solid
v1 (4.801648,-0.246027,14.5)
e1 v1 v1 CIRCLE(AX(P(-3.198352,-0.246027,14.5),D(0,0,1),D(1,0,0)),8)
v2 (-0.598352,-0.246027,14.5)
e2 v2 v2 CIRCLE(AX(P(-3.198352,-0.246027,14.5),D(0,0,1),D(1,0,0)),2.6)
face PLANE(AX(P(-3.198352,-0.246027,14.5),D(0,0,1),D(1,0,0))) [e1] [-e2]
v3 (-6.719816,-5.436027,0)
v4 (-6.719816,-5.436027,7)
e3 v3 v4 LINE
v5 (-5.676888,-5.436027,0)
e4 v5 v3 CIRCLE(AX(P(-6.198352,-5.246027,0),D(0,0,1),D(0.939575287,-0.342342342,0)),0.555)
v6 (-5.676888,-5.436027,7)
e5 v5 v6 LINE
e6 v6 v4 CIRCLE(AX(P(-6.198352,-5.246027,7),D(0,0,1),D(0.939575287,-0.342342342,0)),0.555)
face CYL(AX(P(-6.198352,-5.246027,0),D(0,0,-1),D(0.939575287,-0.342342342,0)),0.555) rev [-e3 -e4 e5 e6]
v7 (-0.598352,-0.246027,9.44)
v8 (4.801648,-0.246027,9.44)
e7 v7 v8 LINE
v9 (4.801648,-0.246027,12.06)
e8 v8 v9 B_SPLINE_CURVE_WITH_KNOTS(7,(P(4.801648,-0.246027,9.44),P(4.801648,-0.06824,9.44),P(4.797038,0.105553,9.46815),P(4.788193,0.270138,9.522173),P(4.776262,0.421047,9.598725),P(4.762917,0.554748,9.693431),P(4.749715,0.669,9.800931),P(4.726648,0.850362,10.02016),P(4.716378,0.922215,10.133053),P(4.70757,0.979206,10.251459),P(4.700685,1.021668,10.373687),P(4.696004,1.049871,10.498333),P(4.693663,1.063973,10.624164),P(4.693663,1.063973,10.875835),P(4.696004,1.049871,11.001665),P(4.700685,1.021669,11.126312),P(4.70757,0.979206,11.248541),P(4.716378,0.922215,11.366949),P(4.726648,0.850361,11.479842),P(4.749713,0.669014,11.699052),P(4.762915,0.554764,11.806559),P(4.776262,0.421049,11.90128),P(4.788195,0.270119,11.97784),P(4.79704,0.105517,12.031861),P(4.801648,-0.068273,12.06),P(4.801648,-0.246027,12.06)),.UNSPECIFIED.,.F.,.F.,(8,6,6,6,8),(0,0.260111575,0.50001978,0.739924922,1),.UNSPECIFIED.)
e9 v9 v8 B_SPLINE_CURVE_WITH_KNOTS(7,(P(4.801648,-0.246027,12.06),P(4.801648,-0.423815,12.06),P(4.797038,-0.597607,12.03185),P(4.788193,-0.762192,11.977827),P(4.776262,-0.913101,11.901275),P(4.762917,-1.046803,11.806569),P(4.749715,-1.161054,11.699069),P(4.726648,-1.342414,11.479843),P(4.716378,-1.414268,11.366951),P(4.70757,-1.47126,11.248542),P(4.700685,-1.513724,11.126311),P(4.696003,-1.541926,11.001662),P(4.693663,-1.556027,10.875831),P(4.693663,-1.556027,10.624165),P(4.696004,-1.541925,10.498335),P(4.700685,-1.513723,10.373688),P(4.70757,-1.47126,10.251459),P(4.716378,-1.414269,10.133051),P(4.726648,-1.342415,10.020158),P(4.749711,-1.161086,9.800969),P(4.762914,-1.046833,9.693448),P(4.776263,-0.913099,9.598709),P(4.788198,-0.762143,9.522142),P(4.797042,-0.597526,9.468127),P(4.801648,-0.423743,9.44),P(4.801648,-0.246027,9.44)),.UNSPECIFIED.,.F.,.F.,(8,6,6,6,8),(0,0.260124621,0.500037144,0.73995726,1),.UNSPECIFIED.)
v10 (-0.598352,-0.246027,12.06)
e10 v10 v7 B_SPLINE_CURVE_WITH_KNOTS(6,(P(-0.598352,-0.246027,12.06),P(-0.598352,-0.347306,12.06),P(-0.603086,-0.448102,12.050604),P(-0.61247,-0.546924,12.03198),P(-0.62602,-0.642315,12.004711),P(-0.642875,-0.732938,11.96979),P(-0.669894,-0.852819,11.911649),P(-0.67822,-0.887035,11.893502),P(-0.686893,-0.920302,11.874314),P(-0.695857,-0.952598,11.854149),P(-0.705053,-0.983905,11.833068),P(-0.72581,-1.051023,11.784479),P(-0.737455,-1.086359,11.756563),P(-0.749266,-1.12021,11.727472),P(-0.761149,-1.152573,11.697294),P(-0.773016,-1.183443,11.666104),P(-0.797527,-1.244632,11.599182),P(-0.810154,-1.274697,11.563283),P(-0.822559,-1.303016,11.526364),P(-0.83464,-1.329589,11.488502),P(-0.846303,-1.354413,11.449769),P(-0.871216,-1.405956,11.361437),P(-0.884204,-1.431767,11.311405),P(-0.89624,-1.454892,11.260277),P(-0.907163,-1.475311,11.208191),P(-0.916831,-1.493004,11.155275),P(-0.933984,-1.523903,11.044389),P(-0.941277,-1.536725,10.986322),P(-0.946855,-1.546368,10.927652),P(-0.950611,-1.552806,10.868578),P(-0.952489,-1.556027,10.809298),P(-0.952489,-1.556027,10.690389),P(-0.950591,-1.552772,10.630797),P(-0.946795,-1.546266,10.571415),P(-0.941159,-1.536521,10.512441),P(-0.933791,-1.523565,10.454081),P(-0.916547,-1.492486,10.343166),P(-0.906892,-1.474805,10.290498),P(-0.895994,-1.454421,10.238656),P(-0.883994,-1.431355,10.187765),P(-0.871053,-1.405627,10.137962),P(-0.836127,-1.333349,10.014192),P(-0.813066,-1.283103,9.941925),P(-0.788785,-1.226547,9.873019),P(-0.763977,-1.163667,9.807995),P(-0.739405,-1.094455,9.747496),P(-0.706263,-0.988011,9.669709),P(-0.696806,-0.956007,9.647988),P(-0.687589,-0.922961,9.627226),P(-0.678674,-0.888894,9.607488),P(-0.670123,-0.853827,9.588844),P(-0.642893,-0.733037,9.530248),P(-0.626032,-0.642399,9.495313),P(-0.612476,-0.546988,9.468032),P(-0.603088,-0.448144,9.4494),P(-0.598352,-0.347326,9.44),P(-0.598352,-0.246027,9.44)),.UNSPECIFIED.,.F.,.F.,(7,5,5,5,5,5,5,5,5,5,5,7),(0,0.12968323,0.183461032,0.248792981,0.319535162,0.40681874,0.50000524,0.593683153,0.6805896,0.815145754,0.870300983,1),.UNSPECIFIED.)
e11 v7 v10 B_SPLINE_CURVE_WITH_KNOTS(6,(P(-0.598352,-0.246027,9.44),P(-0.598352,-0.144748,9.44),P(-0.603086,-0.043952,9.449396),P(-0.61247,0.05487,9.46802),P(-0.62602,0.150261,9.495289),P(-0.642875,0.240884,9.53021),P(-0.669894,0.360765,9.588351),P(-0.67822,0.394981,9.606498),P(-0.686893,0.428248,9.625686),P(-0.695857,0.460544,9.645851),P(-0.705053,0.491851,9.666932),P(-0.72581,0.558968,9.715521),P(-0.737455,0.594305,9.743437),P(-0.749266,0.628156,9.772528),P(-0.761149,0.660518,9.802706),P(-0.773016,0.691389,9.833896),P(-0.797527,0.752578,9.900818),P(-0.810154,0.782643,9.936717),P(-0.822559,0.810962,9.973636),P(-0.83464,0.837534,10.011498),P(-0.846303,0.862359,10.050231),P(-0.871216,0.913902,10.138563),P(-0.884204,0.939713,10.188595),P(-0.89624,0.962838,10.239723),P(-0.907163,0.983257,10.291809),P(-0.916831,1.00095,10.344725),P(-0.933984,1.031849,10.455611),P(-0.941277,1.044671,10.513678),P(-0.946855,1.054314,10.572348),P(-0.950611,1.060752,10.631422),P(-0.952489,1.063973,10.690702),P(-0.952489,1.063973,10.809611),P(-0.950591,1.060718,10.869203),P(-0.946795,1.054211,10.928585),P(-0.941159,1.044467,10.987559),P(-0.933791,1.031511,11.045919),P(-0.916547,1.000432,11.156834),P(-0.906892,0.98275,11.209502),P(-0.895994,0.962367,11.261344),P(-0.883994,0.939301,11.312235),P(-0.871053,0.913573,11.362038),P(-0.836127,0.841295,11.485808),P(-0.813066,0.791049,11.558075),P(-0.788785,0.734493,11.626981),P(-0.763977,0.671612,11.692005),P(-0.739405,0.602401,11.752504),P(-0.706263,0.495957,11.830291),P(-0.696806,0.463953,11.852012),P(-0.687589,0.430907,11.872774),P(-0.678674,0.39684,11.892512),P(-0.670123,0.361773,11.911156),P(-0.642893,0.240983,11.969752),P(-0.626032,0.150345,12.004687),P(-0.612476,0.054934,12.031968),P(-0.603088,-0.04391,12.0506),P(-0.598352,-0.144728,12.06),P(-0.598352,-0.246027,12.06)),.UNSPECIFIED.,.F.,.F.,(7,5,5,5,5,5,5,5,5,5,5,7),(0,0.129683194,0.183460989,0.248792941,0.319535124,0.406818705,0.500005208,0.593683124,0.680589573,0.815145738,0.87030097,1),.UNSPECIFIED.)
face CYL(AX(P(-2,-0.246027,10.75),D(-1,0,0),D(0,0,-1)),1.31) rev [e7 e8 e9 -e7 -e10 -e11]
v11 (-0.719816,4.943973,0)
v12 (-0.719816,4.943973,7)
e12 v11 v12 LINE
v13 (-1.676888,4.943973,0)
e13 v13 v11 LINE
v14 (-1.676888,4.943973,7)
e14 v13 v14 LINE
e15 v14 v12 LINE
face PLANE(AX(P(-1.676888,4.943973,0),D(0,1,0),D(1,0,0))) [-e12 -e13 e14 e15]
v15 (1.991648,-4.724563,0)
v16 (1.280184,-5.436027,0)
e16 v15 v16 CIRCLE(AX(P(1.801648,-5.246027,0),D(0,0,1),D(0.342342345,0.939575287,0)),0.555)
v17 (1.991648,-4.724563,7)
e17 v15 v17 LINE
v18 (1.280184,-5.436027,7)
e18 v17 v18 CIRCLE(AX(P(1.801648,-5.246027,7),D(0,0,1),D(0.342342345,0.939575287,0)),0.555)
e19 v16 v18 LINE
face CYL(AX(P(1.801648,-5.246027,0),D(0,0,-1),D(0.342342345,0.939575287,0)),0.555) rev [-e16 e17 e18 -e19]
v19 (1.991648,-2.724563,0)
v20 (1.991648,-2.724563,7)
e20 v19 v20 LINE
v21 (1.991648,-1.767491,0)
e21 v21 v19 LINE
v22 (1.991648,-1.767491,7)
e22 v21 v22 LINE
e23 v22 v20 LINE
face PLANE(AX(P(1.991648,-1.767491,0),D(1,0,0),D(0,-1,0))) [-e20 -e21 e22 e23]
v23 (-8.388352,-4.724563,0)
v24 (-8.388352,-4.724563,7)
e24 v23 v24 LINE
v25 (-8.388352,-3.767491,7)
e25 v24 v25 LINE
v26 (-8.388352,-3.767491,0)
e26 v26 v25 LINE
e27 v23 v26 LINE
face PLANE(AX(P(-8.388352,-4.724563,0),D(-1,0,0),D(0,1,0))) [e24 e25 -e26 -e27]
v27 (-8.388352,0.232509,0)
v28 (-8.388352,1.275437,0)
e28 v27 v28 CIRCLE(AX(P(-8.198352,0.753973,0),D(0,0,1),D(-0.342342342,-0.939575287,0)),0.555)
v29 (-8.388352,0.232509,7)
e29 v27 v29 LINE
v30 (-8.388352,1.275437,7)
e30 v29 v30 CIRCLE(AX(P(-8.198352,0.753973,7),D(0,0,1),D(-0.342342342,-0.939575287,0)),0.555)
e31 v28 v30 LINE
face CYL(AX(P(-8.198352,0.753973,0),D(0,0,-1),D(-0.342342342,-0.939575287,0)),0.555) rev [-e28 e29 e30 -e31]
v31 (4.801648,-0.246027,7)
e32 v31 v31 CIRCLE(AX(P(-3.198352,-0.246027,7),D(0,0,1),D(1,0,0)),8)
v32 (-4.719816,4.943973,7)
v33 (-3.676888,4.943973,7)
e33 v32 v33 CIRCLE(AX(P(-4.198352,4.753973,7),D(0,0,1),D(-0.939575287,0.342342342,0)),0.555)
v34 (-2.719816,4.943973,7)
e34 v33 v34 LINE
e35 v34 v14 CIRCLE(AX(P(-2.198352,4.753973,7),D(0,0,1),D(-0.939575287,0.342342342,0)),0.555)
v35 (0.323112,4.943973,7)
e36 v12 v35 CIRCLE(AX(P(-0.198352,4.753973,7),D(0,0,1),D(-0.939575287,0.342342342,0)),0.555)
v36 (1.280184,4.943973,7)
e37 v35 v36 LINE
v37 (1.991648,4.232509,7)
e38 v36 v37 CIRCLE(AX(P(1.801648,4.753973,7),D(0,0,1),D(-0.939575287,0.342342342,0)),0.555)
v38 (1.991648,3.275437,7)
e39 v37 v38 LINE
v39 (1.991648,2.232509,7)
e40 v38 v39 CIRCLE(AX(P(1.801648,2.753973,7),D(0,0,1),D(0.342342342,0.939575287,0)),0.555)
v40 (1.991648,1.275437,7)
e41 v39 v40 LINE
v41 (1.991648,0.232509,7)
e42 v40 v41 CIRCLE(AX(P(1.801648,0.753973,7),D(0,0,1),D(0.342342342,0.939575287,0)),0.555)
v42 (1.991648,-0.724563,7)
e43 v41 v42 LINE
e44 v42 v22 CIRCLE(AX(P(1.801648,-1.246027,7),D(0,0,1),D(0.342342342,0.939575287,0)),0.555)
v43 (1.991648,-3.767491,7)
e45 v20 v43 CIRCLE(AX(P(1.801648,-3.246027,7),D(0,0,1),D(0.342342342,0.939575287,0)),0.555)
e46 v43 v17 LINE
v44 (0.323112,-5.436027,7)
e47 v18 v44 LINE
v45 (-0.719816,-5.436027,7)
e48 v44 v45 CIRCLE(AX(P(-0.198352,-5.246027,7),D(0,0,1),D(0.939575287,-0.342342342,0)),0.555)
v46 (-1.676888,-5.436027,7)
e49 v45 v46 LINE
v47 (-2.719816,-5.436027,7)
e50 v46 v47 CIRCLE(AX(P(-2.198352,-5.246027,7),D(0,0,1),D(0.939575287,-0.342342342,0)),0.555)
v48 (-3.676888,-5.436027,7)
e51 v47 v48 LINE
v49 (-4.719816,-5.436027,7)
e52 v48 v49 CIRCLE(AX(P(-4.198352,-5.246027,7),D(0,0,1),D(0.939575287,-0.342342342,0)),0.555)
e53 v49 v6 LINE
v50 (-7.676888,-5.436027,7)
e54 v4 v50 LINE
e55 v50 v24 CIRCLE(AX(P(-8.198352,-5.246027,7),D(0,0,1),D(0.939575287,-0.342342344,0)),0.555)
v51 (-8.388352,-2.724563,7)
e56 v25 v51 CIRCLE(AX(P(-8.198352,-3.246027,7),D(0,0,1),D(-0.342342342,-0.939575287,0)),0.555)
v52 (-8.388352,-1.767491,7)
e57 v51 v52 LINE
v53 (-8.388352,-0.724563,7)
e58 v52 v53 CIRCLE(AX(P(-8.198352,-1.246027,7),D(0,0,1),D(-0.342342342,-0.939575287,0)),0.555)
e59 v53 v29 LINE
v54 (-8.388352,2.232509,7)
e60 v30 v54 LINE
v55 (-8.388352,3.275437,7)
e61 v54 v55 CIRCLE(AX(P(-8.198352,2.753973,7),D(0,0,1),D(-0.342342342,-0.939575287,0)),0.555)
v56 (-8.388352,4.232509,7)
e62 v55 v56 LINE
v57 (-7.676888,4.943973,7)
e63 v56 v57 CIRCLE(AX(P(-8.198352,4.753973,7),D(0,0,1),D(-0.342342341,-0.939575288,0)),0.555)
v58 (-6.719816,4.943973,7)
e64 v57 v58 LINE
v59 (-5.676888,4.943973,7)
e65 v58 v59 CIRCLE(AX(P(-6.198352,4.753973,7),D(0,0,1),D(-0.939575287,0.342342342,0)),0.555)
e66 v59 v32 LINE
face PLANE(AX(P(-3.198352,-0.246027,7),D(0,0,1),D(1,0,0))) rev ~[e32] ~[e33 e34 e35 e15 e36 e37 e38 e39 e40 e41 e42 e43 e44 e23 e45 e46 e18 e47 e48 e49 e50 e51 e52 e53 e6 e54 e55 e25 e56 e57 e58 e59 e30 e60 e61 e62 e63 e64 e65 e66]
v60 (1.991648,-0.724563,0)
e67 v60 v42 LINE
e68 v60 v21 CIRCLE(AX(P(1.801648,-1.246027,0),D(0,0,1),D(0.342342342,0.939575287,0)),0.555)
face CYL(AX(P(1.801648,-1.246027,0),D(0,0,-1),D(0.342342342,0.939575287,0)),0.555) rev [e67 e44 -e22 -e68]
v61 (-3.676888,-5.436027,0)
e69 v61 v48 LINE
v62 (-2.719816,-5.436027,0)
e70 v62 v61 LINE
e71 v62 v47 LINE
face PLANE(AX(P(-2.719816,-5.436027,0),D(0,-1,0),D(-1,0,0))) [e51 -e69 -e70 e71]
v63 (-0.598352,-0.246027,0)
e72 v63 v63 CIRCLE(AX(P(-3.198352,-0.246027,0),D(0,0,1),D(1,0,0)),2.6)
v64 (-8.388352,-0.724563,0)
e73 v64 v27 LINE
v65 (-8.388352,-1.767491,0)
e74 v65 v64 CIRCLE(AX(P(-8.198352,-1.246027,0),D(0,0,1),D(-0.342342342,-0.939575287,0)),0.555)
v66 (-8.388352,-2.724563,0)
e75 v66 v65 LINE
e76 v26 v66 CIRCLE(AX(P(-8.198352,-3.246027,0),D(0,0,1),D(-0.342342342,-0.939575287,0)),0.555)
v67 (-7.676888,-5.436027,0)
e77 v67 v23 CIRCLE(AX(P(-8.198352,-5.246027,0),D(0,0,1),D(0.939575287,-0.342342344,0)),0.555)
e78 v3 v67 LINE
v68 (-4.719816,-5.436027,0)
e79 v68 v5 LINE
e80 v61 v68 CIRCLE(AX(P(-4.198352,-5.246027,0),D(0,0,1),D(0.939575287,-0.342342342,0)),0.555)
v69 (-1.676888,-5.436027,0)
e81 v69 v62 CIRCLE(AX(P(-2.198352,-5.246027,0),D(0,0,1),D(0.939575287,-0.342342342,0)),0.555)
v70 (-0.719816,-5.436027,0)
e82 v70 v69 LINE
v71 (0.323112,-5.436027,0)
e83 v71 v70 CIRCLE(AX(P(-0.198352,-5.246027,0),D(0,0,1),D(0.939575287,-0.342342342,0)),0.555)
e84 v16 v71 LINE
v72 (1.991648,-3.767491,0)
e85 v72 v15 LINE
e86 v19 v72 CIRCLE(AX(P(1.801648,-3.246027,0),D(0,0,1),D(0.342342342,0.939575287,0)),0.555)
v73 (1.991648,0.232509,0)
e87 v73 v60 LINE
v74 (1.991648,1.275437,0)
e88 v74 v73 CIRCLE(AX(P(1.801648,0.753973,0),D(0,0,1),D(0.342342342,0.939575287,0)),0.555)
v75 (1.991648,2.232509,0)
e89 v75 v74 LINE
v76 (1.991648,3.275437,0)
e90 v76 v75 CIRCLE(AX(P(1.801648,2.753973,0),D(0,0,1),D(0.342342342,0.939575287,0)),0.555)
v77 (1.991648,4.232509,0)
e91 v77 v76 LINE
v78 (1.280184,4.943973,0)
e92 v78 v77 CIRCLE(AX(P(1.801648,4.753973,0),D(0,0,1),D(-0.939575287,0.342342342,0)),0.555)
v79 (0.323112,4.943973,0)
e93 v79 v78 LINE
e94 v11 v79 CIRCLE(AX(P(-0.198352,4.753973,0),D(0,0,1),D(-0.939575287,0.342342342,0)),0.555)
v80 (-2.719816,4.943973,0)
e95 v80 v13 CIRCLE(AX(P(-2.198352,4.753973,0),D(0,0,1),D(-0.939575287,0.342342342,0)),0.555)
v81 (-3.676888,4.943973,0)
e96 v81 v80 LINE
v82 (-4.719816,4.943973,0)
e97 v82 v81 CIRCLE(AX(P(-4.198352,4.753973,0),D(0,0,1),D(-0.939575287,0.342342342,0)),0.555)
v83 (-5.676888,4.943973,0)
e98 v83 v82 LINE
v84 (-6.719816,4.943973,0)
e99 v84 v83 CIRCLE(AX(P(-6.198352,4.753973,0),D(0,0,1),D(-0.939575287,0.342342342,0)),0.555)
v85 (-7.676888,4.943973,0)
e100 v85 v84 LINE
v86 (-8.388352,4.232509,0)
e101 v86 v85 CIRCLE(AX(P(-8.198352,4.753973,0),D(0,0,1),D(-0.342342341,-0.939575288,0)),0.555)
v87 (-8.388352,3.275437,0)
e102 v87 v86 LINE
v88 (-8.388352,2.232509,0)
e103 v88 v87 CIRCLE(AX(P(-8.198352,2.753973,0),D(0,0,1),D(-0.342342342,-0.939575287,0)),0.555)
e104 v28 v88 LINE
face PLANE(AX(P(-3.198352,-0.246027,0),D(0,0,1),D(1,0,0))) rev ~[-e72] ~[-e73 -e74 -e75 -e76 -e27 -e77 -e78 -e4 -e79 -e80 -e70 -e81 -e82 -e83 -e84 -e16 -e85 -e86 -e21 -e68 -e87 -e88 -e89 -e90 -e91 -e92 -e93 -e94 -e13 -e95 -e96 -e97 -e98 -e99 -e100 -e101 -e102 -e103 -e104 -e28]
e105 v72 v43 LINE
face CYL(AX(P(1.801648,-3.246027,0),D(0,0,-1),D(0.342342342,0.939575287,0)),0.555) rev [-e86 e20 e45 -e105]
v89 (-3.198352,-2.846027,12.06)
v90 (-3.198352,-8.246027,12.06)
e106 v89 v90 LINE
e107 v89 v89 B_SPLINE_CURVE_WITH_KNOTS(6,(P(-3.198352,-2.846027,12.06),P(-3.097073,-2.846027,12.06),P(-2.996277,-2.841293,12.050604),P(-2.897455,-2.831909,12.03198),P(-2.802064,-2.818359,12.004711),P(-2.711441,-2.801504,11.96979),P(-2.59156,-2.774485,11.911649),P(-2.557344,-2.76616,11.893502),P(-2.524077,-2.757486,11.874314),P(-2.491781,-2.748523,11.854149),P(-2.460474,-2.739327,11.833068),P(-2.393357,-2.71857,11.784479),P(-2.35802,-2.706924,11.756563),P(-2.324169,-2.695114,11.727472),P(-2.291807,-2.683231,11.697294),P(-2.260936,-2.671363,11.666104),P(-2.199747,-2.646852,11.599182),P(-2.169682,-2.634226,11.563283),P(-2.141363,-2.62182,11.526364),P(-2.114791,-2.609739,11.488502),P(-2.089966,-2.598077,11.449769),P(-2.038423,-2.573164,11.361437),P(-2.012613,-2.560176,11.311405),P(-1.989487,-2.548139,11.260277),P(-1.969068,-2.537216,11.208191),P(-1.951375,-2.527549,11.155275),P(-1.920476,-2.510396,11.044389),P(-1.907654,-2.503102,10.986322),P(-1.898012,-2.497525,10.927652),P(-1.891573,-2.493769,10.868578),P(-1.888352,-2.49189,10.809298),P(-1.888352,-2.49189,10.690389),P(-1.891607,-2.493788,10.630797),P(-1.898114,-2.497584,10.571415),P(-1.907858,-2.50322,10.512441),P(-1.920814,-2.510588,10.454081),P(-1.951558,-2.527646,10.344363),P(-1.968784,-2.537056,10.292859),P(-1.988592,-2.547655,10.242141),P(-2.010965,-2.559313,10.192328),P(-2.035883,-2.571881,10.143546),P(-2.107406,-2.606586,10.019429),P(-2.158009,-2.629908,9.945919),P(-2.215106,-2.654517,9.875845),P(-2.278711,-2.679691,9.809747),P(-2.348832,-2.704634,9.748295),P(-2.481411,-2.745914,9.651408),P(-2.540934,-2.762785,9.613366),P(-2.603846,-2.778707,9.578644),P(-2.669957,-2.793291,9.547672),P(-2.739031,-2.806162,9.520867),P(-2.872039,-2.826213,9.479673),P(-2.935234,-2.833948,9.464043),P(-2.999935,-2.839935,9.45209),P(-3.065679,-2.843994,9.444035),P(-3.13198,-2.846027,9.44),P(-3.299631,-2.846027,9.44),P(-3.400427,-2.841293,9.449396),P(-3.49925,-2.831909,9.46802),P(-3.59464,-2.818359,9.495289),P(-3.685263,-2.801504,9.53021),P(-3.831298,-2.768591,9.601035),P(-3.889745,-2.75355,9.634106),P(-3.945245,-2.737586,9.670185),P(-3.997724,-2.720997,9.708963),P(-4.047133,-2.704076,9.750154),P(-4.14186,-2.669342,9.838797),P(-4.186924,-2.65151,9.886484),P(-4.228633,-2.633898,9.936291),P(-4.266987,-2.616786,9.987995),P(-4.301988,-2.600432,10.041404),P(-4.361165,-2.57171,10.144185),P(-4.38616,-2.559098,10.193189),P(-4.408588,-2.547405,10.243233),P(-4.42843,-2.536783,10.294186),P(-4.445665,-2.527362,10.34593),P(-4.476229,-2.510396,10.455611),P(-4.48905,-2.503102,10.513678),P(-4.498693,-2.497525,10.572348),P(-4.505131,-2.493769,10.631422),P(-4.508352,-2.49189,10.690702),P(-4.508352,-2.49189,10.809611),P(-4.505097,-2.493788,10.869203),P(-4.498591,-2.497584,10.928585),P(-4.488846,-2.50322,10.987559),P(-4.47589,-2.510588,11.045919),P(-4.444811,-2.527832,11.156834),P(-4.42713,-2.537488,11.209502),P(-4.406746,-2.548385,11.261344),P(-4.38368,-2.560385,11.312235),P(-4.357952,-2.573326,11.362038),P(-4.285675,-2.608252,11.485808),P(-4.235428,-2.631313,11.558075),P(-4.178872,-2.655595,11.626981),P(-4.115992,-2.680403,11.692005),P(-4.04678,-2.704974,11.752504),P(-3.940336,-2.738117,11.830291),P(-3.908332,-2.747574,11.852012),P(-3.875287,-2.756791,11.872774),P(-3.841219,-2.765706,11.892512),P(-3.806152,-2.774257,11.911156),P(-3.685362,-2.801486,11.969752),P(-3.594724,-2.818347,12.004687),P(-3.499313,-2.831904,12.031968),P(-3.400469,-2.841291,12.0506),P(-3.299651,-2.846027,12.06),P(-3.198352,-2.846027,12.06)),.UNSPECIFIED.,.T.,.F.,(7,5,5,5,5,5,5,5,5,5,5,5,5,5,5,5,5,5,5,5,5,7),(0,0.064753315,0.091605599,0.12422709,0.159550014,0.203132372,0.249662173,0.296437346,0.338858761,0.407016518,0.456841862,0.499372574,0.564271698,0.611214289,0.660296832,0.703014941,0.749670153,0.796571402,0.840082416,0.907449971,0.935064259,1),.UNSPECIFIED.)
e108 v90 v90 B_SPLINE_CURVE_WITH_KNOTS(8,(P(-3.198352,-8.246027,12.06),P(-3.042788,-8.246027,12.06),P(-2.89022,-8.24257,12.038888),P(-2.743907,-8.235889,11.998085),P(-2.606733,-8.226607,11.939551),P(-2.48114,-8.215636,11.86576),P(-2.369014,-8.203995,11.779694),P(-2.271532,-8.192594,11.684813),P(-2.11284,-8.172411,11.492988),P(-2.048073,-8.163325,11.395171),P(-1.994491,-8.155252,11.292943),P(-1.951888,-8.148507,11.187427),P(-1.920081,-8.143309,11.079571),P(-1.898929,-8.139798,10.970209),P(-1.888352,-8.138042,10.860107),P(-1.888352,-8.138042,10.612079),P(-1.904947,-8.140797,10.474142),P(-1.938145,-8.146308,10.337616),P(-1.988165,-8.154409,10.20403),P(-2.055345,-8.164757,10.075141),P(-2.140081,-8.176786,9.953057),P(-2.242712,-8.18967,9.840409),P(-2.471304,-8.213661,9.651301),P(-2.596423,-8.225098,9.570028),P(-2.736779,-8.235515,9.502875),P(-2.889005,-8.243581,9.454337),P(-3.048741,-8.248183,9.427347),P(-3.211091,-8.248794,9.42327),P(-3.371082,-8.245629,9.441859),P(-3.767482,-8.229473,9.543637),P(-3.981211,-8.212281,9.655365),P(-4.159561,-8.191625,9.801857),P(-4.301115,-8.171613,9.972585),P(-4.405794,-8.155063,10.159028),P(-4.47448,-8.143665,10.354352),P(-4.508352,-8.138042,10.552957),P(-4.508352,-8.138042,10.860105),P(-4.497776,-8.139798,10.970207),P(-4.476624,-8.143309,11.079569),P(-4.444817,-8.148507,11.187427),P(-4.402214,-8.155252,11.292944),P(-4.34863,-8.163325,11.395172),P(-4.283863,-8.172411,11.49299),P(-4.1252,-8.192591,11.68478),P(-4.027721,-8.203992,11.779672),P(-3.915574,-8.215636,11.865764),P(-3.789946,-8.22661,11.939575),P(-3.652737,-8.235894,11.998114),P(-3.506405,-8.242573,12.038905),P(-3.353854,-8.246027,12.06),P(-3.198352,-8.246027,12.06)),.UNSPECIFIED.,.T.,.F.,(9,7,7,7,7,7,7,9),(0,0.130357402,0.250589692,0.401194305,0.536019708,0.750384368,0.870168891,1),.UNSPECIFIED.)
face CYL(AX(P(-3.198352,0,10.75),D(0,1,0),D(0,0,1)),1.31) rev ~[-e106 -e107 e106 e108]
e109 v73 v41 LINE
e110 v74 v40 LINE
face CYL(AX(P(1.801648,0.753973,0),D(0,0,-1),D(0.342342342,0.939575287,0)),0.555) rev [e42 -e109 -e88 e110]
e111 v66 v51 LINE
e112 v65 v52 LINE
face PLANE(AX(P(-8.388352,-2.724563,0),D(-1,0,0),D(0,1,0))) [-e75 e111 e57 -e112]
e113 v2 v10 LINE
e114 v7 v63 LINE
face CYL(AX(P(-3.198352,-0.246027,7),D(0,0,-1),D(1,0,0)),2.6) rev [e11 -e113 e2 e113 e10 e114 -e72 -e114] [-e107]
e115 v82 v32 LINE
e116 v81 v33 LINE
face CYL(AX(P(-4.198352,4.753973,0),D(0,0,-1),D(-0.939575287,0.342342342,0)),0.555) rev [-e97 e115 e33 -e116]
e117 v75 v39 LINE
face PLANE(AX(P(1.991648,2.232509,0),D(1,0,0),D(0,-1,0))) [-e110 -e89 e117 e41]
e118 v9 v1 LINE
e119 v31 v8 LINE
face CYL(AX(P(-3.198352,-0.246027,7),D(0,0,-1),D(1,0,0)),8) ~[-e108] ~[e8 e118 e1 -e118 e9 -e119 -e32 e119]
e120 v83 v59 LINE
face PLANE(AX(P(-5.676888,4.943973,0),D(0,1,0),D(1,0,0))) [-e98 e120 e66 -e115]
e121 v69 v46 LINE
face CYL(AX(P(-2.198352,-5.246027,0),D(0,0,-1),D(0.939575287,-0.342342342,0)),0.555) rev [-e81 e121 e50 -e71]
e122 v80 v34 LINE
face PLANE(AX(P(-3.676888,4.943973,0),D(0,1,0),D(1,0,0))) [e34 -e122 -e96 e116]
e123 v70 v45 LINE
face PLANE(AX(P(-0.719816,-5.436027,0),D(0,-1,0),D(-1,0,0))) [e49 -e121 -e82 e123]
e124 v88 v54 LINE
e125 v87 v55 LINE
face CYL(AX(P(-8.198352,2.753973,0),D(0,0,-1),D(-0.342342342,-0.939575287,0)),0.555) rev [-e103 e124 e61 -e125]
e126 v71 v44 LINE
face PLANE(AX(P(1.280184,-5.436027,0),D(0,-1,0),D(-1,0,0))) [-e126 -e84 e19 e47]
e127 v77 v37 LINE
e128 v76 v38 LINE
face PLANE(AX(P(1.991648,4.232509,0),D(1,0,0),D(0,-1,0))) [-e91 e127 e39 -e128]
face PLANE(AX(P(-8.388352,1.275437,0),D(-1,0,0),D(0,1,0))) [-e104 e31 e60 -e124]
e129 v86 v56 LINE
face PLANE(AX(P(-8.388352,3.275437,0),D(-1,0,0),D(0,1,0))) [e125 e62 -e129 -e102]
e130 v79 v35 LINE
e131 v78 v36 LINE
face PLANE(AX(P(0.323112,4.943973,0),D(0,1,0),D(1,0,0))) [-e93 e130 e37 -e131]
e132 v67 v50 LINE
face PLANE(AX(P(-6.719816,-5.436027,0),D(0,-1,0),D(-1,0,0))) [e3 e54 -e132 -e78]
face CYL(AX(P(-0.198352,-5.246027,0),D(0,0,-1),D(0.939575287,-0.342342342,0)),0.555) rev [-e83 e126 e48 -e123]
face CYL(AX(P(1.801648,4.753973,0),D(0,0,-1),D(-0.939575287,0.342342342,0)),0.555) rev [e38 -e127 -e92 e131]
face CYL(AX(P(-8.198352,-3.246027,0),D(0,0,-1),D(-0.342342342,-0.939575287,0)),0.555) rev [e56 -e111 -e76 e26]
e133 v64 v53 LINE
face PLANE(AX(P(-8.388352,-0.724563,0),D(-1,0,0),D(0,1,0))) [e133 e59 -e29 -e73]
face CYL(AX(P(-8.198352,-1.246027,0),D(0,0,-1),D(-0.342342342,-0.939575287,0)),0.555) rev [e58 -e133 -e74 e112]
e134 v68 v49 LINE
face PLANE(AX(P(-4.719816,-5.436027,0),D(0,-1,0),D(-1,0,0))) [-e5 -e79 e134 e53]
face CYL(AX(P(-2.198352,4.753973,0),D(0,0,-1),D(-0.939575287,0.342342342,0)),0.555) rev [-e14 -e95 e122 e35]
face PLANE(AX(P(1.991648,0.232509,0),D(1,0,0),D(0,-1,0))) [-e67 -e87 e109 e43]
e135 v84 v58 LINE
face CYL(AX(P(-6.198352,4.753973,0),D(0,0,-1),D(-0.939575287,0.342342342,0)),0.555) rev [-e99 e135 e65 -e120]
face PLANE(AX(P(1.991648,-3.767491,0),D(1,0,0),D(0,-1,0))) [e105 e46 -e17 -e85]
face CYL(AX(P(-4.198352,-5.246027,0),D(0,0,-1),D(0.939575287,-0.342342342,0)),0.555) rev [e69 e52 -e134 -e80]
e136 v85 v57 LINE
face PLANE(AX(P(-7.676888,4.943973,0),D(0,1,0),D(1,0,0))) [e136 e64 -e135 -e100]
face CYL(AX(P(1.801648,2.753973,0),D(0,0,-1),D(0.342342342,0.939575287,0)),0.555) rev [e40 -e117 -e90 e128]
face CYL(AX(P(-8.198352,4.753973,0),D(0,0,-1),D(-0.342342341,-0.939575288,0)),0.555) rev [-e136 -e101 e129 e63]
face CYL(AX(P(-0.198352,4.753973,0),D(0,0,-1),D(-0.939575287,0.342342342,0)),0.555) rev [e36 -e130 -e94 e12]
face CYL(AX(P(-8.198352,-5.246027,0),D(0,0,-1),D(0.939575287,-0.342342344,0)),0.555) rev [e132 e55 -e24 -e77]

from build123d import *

# Parameters (mm, degrees)
SKETCH2_R               = 4.1
SKETCH2_R_2             = 2.6
BOSS_EXTRUDE1_DEPTH     = 7
SKETCH3_R               = 8
SKETCH3_R_2             = 2.6
BOSS_EXTRUDE2_DEPTH     = 7.5
SKETCH4_R               = 1.31
CUT_EXTRUDE1_DEPTH      = 9
CUT_EXTRUDE2_DEPTH      = 5
CUT_EXTRUDE2_DEPTH_BACK = 2
SKETCH5_R               = 1.31


with BuildPart() as part:
    # Sketch2 → Boss-Extrude1 (new body)
    # profile 1 of 2: a face of its own
    with BuildSketch(Plane.XY):
        with BuildLine():
            ThreePointArc((-8.388352144, 2.232508627), (-7.643352144, 2.753972912), (-8.388352144, 3.275437196))
            Line((-8.388352144, 3.275437196), (-8.388352144, 4.232508627))
            ThreePointArc((-8.388352144, 4.232508627), (-7.805907881, 4.361528648), (-7.67688786, 4.943972912))
            Line((-7.67688786, 4.943972912), (-6.719816429, 4.943972912))
            ThreePointArc((-6.719816429, 4.943972912), (-6.198352144, 4.198972912), (-5.67688786, 4.943972912))
            Line((-5.67688786, 4.943972912), (-4.719816429, 4.943972912))
            ThreePointArc((-4.719816429, 4.943972912), (-4.198352144, 4.198972912), (-3.67688786, 4.943972912))
            Line((-3.67688786, 4.943972912), (-2.719816429, 4.943972912))
            ThreePointArc((-2.719816429, 4.943972912), (-2.198352144, 4.198972912), (-1.67688786, 4.943972912))
            Line((-1.67688786, 4.943972912), (-0.719816429, 4.943972912))
            ThreePointArc((-0.719816429, 4.943972912), (-0.198352144, 4.198972912), (0.32311214, 4.943972912))
            Line((0.32311214, 4.943972912), (1.280183571, 4.943972912))
            ThreePointArc((1.280183571, 4.943972912), (1.409203592, 4.361528648), (1.991647856, 4.232508627))
            Line((1.991647856, 4.232508627), (1.991647856, 3.275437196))
            ThreePointArc((1.991647856, 3.275437196), (1.246647856, 2.753972912), (1.991647856, 2.232508627))
            Line((1.991647856, 2.232508627), (1.991647856, 1.275437196))
            ThreePointArc((1.991647856, 1.275437196), (1.246647856, 0.753972912), (1.991647856, 0.232508627))
            Line((1.991647856, 0.232508627), (1.991647856, -0.724562804))
            ThreePointArc((1.991647856, -0.724562804), (1.246647856, -1.246027088), (1.991647856, -1.767491373))
            Line((1.991647856, -1.767491373), (1.991647856, -2.724562804))
            ThreePointArc((1.991647856, -2.724562804), (1.246647856, -3.246027088), (1.991647856, -3.767491373))
            Line((1.991647856, -3.767491373), (1.991647856, -4.724562804))
            ThreePointArc((1.991647856, -4.724562804), (1.409203592, -4.853582824), (1.280183571, -5.436027088))
            Line((1.280183571, -5.436027088), (0.32311214, -5.436027088))
            ThreePointArc((0.32311214, -5.436027088), (-0.198352144, -4.691027088), (-0.719816429, -5.436027088))
            Line((-0.719816429, -5.436027088), (-1.67688786, -5.436027088))
            ThreePointArc((-1.67688786, -5.436027088), (-2.198352144, -4.691027088), (-2.719816429, -5.436027088))
            Line((-2.719816429, -5.436027088), (-3.67688786, -5.436027088))
            ThreePointArc((-3.67688786, -5.436027088), (-4.198352144, -4.691027088), (-4.719816429, -5.436027088))
            Line((-4.719816429, -5.436027088), (-5.67688786, -5.436027088))
            ThreePointArc((-5.67688786, -5.436027088), (-6.198352144, -4.691027088), (-6.719816429, -5.436027088))
            Line((-6.719816429, -5.436027088), (-7.67688786, -5.436027088))
            ThreePointArc((-7.67688786, -5.436027088), (-7.805907881, -4.853582824), (-8.388352144, -4.724562804))
            Line((-8.388352144, -4.724562804), (-8.388352144, -3.767491373))
            ThreePointArc((-8.388352144, -3.767491373), (-7.643352144, -3.246027088), (-8.388352144, -2.724562804))
            Line((-8.388352144, -2.724562804), (-8.388352144, -1.767491373))
            ThreePointArc((-8.388352144, -1.767491373), (-7.643352144, -1.246027088), (-8.388352144, -0.724562804))
            Line((-8.388352144, -0.724562804), (-8.388352144, 0.232508627))
            ThreePointArc((-8.388352144, 0.232508627), (-7.643352144, 0.753972912), (-8.388352144, 1.275437196))
            Line((-8.388352144, 1.275437196), (-8.388352144, 2.232508627))
        make_face()
        with Locations((-3.198352144, -0.246027088)):
            Circle(SKETCH2_R, mode=Mode.SUBTRACT)
    # profile 2 of 2: a face of its own
    with BuildSketch(Plane.XY):
        with Locations((-3.198352144, -0.246027088)):
            Circle(SKETCH2_R)
        with Locations((-3.198352144, -0.246027088)):
            Circle(SKETCH2_R_2, mode=Mode.SUBTRACT)
    extrude(amount=BOSS_EXTRUDE1_DEPTH)

    # Sketch3 → Boss-Extrude2 (add)
    with BuildSketch(Plane.XY.offset(7)):
        with Locations((-3.198352144, -0.246027088)):
            Circle(SKETCH3_R)
        with Locations((-3.198352144, -0.246027088)):
            Circle(SKETCH3_R_2, mode=Mode.SUBTRACT)
    extrude(amount=BOSS_EXTRUDE2_DEPTH)

    # Sketch4 → Cut-Extrude1 (cut)
    with BuildSketch(Plane(origin=(0, 0, 0), x_dir=(1, 0, 0), z_dir=(0, 1, 0))):
        with Locations(Location((-3.198352144, -10.75, 0), (0, 0, 270))):
            Circle(SKETCH4_R)
    extrude(amount=-CUT_EXTRUDE1_DEPTH, mode=Mode.SUBTRACT)

    # Sketch5 → Cut-Extrude2 (cut, two sides: drawn at the far end of the back side and taken through both)
    with BuildSketch(Plane(origin=(0, 0, 0), x_dir=(0, 0, -1), z_dir=(1, 0, 0)).offset(-CUT_EXTRUDE2_DEPTH_BACK)):
        with Locations((-10.75, -0.246027088)):
            Circle(SKETCH5_R)
    extrude(amount=CUT_EXTRUDE2_DEPTH + CUT_EXTRUDE2_DEPTH_BACK, mode=Mode.SUBTRACT)


solid = part.part
